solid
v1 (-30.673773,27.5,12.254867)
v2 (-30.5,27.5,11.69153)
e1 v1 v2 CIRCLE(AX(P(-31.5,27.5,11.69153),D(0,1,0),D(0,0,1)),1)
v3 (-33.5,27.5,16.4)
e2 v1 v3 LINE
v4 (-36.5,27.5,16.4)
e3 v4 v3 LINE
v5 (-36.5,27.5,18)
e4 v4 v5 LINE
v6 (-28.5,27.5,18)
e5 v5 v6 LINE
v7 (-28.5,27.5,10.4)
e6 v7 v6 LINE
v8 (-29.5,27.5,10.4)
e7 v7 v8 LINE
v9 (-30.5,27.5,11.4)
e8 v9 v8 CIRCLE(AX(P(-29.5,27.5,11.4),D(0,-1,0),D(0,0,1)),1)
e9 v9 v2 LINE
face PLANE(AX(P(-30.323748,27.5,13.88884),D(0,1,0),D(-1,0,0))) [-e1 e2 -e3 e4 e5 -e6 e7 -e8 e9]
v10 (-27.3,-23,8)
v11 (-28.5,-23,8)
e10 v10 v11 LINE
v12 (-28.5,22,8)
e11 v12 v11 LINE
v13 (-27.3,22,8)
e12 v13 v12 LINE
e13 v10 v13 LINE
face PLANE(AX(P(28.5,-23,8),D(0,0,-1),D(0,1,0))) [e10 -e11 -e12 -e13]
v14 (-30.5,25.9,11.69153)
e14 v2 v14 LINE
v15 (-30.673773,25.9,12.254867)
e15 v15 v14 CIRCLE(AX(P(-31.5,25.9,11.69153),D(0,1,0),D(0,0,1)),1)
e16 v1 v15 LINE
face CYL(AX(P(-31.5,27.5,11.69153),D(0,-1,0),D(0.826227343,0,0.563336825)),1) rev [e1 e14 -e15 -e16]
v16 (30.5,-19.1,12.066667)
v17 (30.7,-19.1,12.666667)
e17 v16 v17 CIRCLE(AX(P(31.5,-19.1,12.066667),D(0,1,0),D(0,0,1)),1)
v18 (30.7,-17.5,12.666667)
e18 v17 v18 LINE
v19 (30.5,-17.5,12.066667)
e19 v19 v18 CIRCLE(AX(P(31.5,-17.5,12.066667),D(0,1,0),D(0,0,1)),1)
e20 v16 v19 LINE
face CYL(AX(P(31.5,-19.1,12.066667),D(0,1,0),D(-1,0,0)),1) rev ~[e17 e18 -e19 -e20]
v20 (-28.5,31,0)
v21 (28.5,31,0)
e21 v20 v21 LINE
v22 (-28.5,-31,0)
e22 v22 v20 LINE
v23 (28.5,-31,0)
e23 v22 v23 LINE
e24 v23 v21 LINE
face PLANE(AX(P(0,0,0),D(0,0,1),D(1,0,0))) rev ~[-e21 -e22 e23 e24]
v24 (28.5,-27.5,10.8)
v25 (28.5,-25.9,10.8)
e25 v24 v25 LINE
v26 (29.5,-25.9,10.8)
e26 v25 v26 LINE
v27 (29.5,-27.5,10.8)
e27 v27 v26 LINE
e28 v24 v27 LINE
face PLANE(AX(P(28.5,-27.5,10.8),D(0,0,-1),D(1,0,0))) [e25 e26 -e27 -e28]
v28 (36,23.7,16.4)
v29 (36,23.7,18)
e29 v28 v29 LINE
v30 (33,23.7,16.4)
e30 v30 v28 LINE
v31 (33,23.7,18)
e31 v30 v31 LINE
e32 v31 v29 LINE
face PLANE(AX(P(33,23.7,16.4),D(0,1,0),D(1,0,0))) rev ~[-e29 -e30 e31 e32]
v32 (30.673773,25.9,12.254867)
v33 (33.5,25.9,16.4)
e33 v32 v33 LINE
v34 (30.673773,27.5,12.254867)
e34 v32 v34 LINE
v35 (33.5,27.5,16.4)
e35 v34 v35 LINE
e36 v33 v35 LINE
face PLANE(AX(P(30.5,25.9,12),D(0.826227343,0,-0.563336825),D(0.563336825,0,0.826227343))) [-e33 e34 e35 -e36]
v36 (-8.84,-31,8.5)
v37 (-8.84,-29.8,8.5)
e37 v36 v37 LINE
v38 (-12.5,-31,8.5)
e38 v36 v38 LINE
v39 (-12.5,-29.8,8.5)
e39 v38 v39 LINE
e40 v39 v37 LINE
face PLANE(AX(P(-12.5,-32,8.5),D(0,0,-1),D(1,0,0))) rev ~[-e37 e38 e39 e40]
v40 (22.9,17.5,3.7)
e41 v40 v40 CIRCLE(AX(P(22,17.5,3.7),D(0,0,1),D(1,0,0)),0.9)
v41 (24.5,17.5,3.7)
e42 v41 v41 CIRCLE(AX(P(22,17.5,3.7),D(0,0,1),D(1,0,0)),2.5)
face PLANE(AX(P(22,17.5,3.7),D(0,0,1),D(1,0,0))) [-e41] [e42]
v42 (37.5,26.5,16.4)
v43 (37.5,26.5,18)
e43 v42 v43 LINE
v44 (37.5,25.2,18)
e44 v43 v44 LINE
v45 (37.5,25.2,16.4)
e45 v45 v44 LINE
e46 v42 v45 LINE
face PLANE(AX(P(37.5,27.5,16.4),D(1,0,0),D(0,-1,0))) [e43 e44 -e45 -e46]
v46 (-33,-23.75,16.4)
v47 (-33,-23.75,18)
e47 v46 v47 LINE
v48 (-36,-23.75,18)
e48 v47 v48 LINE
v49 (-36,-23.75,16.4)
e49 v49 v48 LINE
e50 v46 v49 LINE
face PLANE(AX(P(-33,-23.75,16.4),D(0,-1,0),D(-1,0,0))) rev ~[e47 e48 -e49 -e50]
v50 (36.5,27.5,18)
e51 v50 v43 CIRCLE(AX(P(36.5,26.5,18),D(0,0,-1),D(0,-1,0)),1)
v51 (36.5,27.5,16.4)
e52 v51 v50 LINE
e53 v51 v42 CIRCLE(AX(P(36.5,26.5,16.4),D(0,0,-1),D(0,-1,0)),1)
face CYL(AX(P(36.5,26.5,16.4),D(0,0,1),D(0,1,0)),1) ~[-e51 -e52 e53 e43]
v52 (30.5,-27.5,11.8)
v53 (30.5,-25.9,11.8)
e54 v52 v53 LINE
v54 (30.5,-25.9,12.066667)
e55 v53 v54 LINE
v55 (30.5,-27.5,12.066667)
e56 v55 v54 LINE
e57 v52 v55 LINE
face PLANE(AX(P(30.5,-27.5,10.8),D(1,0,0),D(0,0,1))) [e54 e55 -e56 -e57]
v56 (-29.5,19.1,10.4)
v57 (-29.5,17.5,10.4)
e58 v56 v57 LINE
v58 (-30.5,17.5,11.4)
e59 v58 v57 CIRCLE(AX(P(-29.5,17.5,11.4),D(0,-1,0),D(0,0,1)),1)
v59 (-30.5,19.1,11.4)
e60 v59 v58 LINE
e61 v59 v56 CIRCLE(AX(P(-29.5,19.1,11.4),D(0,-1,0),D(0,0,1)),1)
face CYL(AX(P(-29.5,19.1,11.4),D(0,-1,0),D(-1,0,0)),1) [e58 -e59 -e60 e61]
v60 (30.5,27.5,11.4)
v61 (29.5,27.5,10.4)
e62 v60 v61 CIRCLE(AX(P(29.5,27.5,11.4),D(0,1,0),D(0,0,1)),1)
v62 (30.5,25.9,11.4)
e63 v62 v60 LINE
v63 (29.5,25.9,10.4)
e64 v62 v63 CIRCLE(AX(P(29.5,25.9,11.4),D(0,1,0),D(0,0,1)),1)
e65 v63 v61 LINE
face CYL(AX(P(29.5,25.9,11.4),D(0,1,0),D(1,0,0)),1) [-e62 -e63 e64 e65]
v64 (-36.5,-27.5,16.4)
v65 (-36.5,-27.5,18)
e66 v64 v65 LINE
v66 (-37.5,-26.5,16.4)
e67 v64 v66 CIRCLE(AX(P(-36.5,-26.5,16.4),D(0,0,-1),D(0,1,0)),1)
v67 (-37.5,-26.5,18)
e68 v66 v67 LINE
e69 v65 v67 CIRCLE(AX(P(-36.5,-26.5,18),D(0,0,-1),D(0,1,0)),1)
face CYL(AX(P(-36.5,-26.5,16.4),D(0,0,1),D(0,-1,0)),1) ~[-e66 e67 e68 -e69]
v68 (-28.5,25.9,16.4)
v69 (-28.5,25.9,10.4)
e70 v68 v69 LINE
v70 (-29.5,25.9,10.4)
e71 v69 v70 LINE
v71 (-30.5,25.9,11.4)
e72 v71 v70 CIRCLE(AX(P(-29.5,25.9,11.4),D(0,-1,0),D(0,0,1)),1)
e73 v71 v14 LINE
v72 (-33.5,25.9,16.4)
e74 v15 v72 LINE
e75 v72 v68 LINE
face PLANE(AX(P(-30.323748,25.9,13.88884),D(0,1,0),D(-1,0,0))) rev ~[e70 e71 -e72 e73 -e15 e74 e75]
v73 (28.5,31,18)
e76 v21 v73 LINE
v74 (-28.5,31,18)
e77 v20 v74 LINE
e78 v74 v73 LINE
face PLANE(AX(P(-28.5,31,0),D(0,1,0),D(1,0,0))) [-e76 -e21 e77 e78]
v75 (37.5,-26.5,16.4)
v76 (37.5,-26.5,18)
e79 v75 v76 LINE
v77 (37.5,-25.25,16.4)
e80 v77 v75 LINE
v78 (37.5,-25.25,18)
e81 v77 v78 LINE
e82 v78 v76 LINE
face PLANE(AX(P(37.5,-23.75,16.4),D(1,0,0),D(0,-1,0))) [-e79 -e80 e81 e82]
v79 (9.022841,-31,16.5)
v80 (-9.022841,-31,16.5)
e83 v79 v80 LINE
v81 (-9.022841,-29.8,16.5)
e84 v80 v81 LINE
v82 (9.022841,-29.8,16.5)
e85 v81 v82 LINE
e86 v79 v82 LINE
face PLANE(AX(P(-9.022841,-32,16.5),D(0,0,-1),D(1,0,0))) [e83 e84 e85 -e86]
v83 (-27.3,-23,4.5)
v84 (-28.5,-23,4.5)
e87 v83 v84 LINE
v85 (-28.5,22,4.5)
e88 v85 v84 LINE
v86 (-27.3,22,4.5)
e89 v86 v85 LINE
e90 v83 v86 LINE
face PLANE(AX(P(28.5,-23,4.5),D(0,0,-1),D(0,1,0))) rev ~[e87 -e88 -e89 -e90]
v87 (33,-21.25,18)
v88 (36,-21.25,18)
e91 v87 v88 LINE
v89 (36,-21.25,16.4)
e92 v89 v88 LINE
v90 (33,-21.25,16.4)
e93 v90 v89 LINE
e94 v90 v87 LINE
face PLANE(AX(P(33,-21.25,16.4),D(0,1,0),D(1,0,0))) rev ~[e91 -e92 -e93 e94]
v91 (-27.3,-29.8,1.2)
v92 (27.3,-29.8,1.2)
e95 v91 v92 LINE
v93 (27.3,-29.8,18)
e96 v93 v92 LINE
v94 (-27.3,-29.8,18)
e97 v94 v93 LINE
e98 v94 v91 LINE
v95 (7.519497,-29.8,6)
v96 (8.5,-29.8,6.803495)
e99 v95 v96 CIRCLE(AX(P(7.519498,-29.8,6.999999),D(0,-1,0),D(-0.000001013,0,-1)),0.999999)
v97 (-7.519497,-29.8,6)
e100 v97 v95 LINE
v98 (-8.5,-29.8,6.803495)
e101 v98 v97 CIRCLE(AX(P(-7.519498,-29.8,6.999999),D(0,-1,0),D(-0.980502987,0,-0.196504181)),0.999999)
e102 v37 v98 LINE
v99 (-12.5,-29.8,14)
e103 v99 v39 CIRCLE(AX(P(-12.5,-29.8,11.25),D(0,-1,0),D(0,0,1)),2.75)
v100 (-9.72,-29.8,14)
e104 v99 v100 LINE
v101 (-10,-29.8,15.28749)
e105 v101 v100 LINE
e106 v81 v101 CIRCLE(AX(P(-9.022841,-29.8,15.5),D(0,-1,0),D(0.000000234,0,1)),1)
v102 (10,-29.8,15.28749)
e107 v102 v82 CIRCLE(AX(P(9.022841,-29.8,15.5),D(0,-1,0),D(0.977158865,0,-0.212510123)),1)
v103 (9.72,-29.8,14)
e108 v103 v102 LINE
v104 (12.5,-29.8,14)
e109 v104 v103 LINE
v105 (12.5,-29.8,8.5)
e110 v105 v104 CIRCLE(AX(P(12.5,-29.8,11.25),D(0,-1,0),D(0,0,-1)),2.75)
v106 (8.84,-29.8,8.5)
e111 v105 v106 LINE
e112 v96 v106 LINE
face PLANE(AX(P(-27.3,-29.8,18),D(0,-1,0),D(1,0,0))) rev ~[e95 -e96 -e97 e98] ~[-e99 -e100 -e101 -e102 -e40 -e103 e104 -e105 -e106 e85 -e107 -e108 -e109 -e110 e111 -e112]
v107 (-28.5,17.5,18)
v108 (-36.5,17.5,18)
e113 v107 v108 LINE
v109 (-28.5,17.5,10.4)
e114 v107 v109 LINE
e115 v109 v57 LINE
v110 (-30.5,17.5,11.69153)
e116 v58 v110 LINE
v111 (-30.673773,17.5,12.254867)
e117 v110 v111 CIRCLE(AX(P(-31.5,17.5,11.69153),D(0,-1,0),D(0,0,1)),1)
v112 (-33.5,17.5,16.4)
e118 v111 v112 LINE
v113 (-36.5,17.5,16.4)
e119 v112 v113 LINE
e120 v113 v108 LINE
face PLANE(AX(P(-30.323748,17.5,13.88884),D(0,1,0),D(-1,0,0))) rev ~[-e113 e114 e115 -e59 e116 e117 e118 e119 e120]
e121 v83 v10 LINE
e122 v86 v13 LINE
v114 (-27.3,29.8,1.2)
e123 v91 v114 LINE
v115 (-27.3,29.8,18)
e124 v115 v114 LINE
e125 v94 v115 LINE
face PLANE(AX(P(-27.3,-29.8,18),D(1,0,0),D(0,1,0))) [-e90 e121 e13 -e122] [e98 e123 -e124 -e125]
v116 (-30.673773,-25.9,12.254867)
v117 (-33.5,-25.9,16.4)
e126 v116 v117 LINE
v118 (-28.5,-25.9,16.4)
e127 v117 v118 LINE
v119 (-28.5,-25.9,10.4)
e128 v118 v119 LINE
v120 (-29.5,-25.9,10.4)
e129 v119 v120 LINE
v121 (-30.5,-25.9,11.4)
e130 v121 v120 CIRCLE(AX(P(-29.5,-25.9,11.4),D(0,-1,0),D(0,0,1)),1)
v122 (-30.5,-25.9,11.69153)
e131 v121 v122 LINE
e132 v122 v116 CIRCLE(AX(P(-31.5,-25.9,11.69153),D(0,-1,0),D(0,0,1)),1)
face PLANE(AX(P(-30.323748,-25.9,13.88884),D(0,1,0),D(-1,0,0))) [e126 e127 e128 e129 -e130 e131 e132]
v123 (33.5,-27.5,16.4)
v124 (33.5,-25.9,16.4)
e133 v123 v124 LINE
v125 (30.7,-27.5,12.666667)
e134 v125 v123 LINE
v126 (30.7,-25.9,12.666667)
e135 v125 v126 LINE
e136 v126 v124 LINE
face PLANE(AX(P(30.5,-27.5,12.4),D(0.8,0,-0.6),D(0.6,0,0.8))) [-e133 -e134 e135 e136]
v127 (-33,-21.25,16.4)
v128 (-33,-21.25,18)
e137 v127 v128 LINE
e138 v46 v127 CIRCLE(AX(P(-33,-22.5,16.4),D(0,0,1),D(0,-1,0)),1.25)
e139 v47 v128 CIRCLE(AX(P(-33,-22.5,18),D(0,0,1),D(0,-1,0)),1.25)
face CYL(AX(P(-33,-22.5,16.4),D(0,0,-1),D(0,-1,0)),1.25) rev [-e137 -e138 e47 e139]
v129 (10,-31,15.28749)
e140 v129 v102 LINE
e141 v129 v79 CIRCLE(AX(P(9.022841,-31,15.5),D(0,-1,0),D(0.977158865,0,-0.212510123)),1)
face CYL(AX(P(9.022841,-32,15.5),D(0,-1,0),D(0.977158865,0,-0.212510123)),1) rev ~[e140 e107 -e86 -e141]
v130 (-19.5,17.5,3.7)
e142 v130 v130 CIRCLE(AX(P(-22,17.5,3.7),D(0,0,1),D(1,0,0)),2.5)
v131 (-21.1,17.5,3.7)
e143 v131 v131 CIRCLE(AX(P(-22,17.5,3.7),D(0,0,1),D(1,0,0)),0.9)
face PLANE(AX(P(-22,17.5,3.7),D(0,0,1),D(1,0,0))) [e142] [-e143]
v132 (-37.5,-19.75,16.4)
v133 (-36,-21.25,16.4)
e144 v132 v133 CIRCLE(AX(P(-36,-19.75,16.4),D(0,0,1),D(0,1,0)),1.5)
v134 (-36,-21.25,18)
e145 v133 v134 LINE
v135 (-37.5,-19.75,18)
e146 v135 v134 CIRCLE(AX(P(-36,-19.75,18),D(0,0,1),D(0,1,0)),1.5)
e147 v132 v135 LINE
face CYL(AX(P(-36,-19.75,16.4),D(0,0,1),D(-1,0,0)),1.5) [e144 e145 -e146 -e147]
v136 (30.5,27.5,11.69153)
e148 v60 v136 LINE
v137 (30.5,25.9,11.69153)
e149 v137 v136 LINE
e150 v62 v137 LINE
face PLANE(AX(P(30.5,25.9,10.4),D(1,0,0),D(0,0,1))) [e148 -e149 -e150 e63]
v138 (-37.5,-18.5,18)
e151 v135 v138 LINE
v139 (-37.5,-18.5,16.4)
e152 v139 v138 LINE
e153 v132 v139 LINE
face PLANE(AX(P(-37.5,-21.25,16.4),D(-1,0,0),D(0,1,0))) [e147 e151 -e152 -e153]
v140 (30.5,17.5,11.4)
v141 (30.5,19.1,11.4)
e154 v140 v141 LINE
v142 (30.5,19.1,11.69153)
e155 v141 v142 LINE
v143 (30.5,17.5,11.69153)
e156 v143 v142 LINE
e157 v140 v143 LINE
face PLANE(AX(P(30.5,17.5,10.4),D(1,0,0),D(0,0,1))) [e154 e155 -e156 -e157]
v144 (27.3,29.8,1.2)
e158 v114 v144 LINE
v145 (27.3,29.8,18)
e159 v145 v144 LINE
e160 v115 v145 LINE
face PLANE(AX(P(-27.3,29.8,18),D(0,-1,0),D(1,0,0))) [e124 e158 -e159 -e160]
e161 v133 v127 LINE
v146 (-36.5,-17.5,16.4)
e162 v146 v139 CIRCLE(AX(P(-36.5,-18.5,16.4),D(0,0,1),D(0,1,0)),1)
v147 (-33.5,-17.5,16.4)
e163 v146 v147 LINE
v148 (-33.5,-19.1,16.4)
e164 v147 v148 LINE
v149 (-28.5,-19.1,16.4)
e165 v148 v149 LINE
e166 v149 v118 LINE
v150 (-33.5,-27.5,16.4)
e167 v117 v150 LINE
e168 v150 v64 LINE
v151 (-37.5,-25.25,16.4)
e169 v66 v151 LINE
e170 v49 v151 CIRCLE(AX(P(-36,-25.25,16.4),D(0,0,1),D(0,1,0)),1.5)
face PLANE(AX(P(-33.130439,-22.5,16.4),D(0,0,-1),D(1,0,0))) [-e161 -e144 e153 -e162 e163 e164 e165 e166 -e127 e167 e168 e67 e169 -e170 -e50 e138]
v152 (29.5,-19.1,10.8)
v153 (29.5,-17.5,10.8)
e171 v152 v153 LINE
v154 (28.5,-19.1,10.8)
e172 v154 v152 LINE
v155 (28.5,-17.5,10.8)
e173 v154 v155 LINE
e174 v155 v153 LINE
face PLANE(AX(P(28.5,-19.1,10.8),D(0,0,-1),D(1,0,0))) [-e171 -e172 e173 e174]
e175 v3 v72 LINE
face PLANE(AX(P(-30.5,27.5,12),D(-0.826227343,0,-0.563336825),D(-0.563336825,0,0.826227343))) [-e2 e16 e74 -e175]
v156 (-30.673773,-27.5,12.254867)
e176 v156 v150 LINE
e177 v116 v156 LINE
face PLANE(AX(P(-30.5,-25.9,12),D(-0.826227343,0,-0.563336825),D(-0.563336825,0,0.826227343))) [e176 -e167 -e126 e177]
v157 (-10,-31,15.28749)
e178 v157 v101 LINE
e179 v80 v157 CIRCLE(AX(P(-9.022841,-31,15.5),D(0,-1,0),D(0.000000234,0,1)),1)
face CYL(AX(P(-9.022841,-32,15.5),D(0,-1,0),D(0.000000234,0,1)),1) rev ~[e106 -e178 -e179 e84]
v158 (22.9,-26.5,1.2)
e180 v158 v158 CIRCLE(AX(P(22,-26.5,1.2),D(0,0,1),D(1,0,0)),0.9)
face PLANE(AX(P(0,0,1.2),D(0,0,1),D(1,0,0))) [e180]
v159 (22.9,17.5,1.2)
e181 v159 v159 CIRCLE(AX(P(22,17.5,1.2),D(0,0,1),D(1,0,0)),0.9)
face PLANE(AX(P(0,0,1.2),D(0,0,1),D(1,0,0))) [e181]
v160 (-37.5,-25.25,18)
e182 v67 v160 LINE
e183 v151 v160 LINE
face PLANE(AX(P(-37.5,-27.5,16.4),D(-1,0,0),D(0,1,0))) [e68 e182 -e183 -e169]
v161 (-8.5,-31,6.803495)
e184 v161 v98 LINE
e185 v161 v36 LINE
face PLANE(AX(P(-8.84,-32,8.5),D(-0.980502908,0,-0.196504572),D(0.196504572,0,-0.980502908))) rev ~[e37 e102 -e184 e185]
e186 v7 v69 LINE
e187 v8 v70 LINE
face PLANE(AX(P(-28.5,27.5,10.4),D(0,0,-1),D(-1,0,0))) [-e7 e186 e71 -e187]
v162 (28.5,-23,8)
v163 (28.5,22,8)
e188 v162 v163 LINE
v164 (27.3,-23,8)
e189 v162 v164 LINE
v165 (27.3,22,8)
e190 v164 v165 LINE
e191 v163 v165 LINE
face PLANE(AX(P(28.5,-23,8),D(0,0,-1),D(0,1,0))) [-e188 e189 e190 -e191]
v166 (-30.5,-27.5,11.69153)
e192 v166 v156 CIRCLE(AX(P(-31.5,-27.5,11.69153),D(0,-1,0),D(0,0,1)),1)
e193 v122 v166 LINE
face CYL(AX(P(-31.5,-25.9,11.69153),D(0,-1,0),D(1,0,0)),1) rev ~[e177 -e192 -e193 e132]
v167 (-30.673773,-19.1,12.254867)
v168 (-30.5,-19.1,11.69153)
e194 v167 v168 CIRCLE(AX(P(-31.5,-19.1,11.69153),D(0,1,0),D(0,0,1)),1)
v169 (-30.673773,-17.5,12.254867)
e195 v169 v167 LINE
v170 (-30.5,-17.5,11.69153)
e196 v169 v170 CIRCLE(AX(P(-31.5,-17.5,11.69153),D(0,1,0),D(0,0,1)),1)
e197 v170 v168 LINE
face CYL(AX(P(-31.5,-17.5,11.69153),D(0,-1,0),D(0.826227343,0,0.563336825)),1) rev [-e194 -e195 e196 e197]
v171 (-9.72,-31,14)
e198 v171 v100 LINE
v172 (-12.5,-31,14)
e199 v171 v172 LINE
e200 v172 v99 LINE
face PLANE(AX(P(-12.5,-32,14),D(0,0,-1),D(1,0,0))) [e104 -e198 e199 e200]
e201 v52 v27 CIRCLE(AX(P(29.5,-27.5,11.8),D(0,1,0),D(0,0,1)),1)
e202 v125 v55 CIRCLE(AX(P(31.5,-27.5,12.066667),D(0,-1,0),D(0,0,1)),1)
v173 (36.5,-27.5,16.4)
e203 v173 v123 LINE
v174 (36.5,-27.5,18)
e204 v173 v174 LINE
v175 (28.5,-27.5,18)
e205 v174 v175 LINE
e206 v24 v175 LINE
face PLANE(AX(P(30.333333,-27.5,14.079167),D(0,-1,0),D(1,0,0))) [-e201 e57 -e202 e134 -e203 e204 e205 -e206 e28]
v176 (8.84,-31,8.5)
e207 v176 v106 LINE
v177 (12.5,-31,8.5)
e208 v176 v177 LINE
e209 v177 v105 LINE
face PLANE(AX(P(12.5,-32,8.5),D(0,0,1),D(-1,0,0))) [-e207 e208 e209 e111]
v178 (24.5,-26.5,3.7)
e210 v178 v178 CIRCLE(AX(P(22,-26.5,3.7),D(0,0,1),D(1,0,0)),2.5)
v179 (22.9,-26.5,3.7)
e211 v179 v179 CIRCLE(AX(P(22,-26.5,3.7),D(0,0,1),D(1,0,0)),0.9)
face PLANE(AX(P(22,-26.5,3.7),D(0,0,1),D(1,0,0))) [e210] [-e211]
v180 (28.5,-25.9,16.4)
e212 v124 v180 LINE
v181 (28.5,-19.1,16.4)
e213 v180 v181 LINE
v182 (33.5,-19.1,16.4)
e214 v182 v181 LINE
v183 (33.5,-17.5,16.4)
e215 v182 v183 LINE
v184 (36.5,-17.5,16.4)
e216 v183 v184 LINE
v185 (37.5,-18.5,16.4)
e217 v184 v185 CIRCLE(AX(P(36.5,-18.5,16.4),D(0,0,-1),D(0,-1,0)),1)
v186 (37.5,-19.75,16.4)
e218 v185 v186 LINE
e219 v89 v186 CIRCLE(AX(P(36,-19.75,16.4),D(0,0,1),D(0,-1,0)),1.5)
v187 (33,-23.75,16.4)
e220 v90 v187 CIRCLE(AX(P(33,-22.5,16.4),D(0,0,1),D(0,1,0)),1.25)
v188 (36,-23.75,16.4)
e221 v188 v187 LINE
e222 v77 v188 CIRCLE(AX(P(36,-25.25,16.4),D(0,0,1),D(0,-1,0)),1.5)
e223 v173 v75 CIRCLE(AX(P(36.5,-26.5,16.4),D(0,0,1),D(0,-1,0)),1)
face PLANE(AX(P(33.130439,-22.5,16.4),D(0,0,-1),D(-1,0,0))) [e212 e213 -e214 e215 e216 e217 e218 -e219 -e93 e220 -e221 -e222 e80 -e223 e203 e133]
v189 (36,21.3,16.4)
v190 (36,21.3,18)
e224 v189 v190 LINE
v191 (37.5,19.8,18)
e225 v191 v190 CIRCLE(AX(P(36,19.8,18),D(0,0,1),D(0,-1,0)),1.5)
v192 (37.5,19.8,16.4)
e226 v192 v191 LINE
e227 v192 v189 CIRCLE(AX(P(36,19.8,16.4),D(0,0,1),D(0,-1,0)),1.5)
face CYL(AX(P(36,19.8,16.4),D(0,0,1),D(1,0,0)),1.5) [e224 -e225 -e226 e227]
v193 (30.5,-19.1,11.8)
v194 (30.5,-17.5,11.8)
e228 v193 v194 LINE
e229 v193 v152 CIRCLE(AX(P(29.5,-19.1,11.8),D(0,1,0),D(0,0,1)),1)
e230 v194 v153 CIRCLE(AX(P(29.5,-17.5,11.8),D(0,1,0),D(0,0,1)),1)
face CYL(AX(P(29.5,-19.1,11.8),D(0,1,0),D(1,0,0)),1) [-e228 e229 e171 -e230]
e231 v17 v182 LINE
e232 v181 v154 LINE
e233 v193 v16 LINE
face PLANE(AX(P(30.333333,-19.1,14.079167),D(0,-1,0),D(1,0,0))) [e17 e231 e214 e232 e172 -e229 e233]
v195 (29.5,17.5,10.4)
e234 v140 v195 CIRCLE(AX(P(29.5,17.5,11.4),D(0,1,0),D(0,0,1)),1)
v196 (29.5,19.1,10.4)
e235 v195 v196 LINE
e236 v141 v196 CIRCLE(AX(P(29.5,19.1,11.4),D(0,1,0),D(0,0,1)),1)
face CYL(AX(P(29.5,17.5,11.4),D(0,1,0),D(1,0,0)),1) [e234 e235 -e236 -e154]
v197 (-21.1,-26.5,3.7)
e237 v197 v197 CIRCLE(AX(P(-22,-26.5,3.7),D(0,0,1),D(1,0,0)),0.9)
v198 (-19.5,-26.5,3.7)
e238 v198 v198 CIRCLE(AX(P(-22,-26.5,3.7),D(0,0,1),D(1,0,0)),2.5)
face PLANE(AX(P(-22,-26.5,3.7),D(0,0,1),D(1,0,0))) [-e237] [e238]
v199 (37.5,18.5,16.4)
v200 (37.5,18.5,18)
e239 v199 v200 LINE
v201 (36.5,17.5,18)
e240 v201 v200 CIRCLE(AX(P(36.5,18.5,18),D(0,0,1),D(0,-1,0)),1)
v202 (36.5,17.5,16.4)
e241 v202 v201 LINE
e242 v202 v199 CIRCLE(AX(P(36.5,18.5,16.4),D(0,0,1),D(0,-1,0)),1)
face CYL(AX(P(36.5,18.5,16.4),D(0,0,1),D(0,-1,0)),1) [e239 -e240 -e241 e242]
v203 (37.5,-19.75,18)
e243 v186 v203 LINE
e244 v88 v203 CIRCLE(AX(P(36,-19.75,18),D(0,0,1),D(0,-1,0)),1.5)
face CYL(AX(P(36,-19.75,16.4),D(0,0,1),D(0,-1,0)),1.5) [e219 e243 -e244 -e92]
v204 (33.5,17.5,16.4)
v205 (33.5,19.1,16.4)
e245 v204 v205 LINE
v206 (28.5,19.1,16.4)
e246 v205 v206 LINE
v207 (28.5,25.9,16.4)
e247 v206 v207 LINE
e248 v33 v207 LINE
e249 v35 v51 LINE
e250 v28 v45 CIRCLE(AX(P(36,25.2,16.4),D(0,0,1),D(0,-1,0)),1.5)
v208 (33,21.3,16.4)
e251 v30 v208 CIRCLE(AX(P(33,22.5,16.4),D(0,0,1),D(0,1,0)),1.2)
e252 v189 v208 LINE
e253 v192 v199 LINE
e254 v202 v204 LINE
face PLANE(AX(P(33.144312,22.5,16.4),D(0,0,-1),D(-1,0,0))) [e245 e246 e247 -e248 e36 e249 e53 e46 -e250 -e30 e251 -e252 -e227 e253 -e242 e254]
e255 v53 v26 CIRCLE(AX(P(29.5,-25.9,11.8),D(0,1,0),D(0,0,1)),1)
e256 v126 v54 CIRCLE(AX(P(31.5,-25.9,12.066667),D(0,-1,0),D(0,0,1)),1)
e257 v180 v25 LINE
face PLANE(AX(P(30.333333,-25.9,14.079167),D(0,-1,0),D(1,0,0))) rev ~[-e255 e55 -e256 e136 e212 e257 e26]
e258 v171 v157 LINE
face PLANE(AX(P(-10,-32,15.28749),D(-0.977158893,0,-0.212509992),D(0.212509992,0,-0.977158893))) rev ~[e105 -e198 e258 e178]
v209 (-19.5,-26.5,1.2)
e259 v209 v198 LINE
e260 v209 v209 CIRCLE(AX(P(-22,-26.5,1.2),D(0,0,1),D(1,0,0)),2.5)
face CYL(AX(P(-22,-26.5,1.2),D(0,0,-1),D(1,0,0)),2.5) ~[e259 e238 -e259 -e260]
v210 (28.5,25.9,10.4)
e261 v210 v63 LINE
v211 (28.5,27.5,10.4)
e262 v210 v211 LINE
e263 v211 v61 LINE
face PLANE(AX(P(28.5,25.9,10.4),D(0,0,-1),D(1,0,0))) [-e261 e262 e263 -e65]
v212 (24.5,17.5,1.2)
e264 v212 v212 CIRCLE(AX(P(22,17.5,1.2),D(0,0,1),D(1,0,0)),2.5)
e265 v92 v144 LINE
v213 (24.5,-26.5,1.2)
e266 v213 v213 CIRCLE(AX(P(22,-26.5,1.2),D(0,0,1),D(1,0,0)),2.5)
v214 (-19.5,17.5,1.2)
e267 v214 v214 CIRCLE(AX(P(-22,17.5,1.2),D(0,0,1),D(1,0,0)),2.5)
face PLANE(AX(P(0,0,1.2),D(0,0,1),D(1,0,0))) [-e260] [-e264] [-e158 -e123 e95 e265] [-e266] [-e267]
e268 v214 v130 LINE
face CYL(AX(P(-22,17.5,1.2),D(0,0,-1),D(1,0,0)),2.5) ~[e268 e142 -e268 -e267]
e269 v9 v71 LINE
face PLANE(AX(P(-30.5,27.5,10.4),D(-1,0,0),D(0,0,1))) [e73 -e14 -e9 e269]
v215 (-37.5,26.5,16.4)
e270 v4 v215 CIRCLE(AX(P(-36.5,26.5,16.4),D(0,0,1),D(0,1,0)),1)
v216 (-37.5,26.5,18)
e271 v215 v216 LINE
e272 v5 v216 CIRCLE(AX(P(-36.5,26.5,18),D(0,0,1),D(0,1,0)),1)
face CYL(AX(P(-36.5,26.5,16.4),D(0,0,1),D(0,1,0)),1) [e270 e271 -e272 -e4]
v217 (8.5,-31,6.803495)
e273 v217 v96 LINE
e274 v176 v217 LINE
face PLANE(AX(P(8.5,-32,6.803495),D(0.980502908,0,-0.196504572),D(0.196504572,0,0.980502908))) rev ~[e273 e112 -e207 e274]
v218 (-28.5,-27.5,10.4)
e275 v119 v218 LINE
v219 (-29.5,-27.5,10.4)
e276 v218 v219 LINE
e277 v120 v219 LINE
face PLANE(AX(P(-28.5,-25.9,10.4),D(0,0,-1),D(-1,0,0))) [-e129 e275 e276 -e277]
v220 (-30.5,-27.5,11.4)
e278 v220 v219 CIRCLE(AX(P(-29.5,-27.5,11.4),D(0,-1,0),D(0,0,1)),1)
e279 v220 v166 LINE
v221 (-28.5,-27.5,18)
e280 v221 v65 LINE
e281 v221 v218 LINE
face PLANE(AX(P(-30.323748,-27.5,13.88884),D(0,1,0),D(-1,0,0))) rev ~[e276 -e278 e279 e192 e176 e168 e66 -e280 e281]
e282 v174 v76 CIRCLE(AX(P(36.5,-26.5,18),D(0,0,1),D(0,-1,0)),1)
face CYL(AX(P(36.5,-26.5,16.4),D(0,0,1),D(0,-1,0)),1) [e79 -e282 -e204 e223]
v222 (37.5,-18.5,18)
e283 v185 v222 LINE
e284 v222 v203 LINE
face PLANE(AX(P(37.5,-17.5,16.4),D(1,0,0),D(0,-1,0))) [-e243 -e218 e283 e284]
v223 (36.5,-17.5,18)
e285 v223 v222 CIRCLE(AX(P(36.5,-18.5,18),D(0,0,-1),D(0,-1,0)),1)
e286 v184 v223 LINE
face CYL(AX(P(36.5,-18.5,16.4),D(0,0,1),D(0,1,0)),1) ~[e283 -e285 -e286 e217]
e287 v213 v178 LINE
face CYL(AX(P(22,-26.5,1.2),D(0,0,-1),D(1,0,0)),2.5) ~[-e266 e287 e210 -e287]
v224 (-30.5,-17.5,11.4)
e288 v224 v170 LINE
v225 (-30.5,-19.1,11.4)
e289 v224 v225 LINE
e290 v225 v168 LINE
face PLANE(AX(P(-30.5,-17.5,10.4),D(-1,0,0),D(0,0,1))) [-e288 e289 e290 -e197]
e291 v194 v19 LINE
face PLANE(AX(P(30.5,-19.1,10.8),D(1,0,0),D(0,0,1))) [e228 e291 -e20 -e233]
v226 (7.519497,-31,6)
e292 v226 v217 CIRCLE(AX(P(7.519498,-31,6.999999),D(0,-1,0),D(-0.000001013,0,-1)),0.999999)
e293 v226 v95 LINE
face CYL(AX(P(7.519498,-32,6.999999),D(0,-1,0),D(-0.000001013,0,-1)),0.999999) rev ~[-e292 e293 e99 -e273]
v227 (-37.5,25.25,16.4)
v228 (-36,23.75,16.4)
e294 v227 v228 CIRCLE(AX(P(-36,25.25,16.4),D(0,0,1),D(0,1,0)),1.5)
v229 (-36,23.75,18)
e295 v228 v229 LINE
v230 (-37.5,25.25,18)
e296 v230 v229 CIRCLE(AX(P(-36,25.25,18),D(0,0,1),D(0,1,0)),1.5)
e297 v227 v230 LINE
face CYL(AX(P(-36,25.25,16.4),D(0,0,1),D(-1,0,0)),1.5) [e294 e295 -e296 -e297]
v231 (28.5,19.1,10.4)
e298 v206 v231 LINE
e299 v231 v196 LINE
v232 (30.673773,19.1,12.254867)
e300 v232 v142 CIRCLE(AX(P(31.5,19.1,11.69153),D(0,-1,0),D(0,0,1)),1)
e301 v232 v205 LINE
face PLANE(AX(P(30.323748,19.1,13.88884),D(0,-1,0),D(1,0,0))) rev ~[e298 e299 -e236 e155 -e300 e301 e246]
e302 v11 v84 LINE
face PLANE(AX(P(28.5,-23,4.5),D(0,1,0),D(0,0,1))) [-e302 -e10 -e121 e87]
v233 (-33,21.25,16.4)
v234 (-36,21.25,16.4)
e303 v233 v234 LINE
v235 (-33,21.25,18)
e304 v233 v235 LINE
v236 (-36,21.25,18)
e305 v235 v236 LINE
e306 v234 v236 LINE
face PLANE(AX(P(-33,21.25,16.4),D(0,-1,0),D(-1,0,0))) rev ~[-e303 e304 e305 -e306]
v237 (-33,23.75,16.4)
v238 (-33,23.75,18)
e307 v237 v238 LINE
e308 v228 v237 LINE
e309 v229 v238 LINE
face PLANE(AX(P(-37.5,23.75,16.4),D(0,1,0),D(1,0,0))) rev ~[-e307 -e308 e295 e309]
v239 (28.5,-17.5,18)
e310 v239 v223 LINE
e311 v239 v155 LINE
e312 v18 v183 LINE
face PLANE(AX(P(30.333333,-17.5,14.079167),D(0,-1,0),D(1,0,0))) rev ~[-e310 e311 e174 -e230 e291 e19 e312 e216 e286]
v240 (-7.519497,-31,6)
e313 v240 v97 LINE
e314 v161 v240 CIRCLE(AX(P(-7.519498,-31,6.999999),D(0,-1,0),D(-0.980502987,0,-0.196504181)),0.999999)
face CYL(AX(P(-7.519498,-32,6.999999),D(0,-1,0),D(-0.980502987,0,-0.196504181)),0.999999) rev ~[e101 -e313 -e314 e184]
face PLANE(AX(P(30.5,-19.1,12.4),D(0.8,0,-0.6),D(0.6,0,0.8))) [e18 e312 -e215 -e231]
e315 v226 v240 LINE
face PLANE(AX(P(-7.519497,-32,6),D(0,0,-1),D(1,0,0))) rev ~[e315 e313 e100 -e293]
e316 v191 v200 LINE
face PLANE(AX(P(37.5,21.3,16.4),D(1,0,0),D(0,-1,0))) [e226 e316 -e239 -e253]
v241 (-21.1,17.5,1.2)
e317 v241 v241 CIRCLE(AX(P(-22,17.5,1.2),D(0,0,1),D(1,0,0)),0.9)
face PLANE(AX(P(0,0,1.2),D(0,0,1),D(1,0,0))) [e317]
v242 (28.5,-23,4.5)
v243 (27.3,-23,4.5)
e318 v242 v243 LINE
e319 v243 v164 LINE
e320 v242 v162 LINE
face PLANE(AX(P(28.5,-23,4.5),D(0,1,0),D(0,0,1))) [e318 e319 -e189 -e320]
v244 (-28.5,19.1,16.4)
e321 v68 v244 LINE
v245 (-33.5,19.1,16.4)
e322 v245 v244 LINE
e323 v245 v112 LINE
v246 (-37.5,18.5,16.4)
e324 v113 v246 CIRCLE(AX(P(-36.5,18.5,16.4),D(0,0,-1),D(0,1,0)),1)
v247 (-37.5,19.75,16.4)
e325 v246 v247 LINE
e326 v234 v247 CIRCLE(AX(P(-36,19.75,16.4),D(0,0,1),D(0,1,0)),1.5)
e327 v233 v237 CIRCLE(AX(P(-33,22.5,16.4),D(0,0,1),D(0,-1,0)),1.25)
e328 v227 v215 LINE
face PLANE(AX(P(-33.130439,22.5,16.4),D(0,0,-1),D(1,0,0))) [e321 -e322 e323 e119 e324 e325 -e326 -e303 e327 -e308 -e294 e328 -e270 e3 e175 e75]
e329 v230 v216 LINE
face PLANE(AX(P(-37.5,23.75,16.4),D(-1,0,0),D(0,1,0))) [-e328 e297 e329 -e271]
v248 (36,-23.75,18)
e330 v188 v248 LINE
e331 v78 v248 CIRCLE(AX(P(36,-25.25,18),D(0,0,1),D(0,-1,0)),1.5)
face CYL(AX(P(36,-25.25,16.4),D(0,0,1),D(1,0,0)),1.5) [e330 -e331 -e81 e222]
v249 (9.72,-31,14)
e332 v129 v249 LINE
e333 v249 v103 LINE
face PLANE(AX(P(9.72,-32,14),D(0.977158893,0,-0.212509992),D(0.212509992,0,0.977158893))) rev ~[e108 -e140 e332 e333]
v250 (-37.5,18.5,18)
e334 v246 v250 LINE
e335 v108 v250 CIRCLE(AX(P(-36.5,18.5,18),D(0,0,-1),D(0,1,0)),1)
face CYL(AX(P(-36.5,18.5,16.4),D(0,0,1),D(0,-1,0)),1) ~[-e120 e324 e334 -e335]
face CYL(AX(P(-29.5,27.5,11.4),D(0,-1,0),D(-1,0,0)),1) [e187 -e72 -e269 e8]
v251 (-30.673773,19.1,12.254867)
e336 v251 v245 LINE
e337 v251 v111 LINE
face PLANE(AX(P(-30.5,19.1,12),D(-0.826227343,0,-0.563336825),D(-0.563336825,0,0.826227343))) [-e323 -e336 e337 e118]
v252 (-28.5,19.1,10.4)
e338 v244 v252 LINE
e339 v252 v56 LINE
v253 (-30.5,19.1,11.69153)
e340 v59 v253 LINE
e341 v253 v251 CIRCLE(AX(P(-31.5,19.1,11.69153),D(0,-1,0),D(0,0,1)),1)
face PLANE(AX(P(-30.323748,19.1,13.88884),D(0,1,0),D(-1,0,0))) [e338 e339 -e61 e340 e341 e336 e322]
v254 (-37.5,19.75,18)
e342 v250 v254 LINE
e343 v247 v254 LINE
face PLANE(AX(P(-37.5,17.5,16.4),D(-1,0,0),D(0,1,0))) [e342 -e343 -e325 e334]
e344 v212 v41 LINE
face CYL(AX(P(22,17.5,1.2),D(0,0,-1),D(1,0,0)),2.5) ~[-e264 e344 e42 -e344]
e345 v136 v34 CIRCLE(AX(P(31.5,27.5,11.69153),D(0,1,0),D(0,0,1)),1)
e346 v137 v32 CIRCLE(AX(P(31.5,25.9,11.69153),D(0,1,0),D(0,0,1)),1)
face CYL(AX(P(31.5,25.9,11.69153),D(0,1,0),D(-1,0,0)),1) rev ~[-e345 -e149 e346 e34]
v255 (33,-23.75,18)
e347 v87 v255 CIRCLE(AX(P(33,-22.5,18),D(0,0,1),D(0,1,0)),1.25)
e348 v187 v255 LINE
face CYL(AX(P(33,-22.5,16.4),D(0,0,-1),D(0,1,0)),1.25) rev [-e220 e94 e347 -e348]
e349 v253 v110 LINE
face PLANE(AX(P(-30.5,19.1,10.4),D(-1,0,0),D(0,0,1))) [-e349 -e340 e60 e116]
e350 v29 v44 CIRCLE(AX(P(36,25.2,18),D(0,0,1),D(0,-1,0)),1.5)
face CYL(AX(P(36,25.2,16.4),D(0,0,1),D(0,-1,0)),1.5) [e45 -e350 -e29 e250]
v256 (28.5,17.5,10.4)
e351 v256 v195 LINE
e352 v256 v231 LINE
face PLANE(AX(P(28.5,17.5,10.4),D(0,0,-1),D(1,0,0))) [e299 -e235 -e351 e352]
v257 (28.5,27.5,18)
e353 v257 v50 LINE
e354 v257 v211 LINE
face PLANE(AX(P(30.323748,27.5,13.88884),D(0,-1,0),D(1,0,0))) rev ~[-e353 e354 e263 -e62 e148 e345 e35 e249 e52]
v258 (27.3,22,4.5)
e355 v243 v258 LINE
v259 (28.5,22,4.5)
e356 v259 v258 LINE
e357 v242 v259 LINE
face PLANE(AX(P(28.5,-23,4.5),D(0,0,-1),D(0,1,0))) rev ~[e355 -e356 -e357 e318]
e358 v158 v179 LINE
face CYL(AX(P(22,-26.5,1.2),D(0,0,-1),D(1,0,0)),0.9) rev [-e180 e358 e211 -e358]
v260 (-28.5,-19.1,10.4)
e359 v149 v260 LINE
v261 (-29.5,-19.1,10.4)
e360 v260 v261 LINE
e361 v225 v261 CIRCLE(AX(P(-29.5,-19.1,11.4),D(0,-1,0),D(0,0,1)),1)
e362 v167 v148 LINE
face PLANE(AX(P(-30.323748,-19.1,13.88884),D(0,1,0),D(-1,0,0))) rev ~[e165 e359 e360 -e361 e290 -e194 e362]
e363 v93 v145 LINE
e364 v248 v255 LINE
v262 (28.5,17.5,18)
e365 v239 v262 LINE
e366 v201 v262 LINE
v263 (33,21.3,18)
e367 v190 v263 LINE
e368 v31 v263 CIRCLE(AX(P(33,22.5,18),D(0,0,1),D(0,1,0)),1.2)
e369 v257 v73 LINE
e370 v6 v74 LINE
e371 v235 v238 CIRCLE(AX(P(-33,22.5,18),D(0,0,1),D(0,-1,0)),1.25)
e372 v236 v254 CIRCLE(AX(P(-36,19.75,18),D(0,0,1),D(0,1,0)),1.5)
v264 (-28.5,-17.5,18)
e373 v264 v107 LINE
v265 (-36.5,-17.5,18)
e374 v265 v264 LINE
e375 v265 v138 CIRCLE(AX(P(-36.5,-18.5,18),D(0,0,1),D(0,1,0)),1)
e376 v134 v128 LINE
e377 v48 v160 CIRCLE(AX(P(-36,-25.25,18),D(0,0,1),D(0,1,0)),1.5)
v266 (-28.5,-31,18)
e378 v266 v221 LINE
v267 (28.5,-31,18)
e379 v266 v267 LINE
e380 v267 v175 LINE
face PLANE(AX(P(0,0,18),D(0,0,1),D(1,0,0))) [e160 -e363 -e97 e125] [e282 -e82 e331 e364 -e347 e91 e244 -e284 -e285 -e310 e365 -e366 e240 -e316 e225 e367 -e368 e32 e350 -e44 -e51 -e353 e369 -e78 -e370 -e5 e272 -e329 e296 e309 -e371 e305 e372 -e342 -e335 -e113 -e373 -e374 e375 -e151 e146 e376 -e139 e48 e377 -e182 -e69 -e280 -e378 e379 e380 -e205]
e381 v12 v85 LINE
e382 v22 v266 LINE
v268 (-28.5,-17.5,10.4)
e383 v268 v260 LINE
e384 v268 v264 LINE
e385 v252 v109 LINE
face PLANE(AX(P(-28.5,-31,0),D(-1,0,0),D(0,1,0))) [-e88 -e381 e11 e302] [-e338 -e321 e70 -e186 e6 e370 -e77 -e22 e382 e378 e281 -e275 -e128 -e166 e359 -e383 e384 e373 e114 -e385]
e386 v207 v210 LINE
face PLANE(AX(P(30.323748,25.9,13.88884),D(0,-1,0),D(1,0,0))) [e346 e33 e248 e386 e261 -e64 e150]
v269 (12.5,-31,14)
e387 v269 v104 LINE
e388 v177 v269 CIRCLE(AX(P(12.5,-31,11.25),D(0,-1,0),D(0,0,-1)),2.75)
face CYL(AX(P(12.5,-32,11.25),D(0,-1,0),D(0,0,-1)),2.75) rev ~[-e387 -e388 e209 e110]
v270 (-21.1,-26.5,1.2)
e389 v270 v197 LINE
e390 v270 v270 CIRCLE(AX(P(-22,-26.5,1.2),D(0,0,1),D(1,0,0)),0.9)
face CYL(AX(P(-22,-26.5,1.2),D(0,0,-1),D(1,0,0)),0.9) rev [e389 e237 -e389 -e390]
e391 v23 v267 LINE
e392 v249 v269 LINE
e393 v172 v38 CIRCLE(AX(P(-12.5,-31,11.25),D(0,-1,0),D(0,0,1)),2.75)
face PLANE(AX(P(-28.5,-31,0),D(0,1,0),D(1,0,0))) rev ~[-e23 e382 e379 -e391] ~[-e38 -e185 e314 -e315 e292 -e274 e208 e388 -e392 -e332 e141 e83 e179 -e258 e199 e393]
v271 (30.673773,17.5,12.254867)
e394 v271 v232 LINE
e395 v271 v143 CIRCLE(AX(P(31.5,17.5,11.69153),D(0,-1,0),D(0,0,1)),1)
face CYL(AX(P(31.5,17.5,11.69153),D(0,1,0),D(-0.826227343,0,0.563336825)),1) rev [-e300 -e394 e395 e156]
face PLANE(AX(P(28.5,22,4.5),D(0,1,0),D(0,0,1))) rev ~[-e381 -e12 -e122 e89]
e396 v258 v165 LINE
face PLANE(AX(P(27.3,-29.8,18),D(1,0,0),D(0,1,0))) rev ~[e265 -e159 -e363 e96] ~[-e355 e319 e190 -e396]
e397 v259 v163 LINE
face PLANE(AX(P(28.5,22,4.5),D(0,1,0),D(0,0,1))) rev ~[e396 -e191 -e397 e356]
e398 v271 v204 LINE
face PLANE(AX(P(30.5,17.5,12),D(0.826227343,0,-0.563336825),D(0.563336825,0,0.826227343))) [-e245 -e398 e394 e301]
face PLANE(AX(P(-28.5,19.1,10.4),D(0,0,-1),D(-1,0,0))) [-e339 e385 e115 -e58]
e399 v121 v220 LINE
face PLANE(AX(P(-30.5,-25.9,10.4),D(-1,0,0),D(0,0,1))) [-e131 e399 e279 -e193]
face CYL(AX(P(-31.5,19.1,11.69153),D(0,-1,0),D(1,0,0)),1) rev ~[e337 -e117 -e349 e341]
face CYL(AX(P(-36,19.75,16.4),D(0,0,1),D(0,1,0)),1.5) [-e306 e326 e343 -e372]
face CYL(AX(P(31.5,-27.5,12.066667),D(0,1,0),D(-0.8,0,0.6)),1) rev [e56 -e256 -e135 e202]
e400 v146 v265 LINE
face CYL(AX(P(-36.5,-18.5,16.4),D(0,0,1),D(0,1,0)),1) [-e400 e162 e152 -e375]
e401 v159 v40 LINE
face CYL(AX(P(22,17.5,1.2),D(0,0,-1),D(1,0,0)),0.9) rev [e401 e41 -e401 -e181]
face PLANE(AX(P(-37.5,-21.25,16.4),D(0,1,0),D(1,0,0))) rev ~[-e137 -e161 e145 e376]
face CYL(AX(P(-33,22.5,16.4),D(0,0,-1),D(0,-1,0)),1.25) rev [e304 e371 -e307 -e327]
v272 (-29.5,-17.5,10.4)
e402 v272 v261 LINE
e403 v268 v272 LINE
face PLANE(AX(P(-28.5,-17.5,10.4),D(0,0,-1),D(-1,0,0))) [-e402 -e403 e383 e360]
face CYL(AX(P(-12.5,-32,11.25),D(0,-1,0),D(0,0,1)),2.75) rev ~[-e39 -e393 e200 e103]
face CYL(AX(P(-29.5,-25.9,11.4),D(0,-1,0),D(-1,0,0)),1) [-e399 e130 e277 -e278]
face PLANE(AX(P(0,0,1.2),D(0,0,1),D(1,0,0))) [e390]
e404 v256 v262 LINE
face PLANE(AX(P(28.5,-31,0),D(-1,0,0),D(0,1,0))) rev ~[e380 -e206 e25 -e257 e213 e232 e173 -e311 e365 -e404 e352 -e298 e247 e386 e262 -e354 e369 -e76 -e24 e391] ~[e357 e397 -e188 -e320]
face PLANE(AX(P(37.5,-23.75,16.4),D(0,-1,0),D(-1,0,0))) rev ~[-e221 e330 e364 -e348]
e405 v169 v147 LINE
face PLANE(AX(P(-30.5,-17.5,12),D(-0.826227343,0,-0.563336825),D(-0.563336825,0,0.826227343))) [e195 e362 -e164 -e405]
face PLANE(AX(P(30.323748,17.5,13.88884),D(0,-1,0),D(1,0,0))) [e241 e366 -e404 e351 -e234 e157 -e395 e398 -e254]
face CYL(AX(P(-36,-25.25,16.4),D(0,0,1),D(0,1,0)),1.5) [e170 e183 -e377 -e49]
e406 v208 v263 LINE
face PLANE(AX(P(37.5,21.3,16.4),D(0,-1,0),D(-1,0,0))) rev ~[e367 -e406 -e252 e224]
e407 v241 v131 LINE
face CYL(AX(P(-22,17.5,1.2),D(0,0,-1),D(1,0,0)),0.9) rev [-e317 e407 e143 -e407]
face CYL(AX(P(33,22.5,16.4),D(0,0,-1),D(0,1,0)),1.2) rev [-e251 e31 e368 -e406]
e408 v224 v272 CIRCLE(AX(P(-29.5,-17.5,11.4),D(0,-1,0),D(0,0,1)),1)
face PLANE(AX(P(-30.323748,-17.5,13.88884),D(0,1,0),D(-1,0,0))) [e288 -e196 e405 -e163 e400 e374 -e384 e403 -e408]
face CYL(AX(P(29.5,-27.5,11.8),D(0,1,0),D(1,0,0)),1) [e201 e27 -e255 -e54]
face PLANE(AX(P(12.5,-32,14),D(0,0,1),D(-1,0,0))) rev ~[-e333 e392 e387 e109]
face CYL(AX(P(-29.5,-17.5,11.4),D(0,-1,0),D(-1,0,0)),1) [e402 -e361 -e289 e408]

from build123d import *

# Parameters (mm, degrees)
PAD004_DEPTH            = 1.6
PAD005_DEPTH            = 1.6
LINEARPATTERN001_COUNT  = 2
LINEARPATTERN001_PITCH  = 8.4
FILLET004_R             = 1
FILLET005_R             = 1
FILLET006_R             = 1
FILLET007_R             = 1.5
PAD002_DEPTH            = 1.6
PAD003_DEPTH            = 1.6
LINEARPATTERN_COUNT     = 2
LINEARPATTERN_PITCH     = 8.4
FILLET_R                = 1
FILLET001_R             = 1
FILLET002_R             = 1
FILLET003_R             = 1.5
PAD008_DEPTH            = 1.6
PAD009_DEPTH            = 1.6
LINEARPATTERN003_COUNT  = 2
LINEARPATTERN003_PITCH  = 8.4
FILLET012_R             = 1
FILLET013_R             = 1
FILLET014_R             = 1
FILLET015_R             = 1.5
BODY004_PLACEMENT_ANGLE = 180
PAD006_DEPTH            = 1.6
PAD007_DEPTH            = 1.6
LINEARPATTERN002_COUNT  = 2
LINEARPATTERN002_PITCH  = 8.4
FILLET008_R             = 1
FILLET009_R             = 1
FILLET010_R             = 1
FILLET011_R             = 1.5
BODY003_PLACEMENT_ANGLE = 180
SKETCH_W                = 57
SKETCH_H                = 62
PAD_DEPTH               = 18
SKETCH001_W             = 54.6
SKETCH001_H             = 59.6
POCKET_DEPTH            = 16.8
SKETCH002_W             = 45
SKETCH002_H             = 3.5
POCKET001_DEPTH         = 57.001
SKETCH003_R             = 2.5
SKETCH003_R_2           = 0.9
PAD001_DEPTH            = 2.5
POCKET002_DEPTH         = 5


with BuildPart() as tab2:
    # Sketch006 → Pad004 (new body)
    with BuildSketch(Plane.XY):
        with BuildLine():
            Line((-4.5, 5), (4.5, 5))
            Line((4.5, 5), (4.5, 1.2))
            Line((0, 1.2), (4.5, 1.2))
            ThreePointArc((0, 1.2), (-1.2, 0), (0, -1.2))
            Line((4.5, -1.2), (0, -1.2))
            Line((4.5, -1.2), (4.5, -5))
            Line((4.5, -5), (-4.5, -5))
            Line((-4.5, -5), (-4.5, 5))
        make_face()
    extrude(amount=PAD004_DEPTH)

    # Sketch007 (on DatumPlane) → Pad005 (join)
    with BuildSketch(Plane.XZ.offset(5)):
        Polygon((-4.5, 0), (-4.5, -6), (-2.5, -6), (-2.5, -4.4), (0.5, 0), align=None)
    pad005 = extrude(amount=-PAD005_DEPTH)

    # LinearPattern001: Pad005 ×2
    with Locations(*[(0, i * LINEARPATTERN001_PITCH, 0) for i in range(1, LINEARPATTERN001_COUNT)]):
        add(pad005)

    # Fillet004
    fillet004_edges = [tab2.edges().sort_by_distance(p)[0] for p in [
        (-2.5, -4.2, -6),
        (-2.5, 4.2, -6),
    ]]
    fillet(fillet004_edges, radius=FILLET004_R)

    # Fillet005
    fillet005_edges = [tab2.edges().sort_by_distance(p)[0] for p in [
        (-2.5, -4.2, -4.4),
        (-2.5, 4.2, -4.4),
    ]]
    fillet(fillet005_edges, radius=FILLET005_R)

    # Fillet006
    fillet006_edges = [tab2.edges().sort_by_distance(p)[0] for p in [
        (4.5, -5, 0.8),
        (4.5, 5, 0.8),
    ]]
    fillet(fillet006_edges, radius=FILLET006_R)

    # Fillet007
    fillet007_edges = [tab2.edges().sort_by_distance(p)[0] for p in [
        (4.5, -1.2, 0.8),
        (4.5, 1.2, 0.8),
    ]]
    fillet(fillet007_edges, radius=FILLET007_R)


with BuildPart() as tab2_1:
    # Body002 placement: moved
    add(tab2.part.moved(Location((33, 22.5, 16.4))))


with BuildPart() as tab1:
    # Sketch004 → Pad002 (new body)
    with BuildSketch(Plane.XY):
        with BuildLine():
            Line((-4.5, 5), (4.5, 5))
            Line((4.5, 5), (4.5, 1.25))
            Line((0, 1.25), (4.5, 1.25))
            ThreePointArc((0, 1.25), (-1.25, 0), (0, -1.25))
            Line((4.5, -1.25), (0, -1.25))
            Line((4.5, -1.25), (4.5, -5))
            Line((4.5, -5), (-4.5, -5))
            Line((-4.5, -5), (-4.5, 5))
        make_face()
    extrude(amount=PAD002_DEPTH)

    # Sketch005 (on DatumPlane) → Pad003 (join)
    with BuildSketch(Plane.XZ.offset(5)):
        Polygon((-4.5, 0), (-4.5, -5.6), (-2.5, -5.6), (-2.5, -4), (0.5, 0), align=None)
    pad003 = extrude(amount=-PAD003_DEPTH)

    # LinearPattern: Pad003 ×2
    with Locations(*[(0, i * LINEARPATTERN_PITCH, 0) for i in range(1, LINEARPATTERN_COUNT)]):
        add(pad003)

    # Fillet
    fillet_edges = [tab1.edges().sort_by_distance(p)[0] for p in [
        (-2.5, -4.2, -5.6),
        (-2.5, 4.2, -5.6),
    ]]
    fillet(fillet_edges, radius=FILLET_R)

    # Fillet001
    fillet001_edges = [tab1.edges().sort_by_distance(p)[0] for p in [
        (-2.5, -4.2, -4),
        (-2.5, 4.2, -4),
    ]]
    fillet(fillet001_edges, radius=FILLET001_R)

    # Fillet002
    fillet002_edges = [tab1.edges().sort_by_distance(p)[0] for p in [
        (4.5, -5, 0.8),
        (4.5, 5, 0.8),
    ]]
    fillet(fillet002_edges, radius=FILLET002_R)

    # Fillet003
    fillet003_edges = [tab1.edges().sort_by_distance(p)[0] for p in [
        (4.5, -1.25, 0.8),
        (4.5, 1.25, 0.8),
    ]]
    fillet(fillet003_edges, radius=FILLET003_R)


with BuildPart() as tab1_1:
    # Body001 placement: moved
    add(tab1.part.moved(Location((33, -22.5, 16.4))))


with BuildPart() as tab4:
    # Sketch010 → Pad008 (new body)
    with BuildSketch(Plane.XY):
        with BuildLine():
            Line((-4.5, 5), (4.5, 5))
            Line((4.5, 5), (4.5, 1.25))
            Line((0, 1.25), (4.5, 1.25))
            ThreePointArc((0, 1.25), (-1.25, 0), (0, -1.25))
            Line((4.5, -1.25), (0, -1.25))
            Line((4.5, -1.25), (4.5, -5))
            Line((4.5, -5), (-4.5, -5))
            Line((-4.5, -5), (-4.5, 5))
        make_face()
    extrude(amount=PAD008_DEPTH)

    # Sketch011 (on DatumPlane) → Pad009 (join)
    with BuildSketch(Plane.XZ.offset(5)):
        Polygon((-4.5, 0), (-4.5, -6), (-2.5, -6), (-2.5, -4.4), (0.5, 0), align=None)
    pad009 = extrude(amount=-PAD009_DEPTH)

    # LinearPattern003: Pad009 ×2
    with Locations(*[(0, i * LINEARPATTERN003_PITCH, 0) for i in range(1, LINEARPATTERN003_COUNT)]):
        add(pad009)

    # Fillet012
    fillet012_edges = [tab4.edges().sort_by_distance(p)[0] for p in [
        (-2.5, -4.2, -6),
        (-2.5, 4.2, -6),
    ]]
    fillet(fillet012_edges, radius=FILLET012_R)

    # Fillet013
    fillet013_edges = [tab4.edges().sort_by_distance(p)[0] for p in [
        (-2.5, -4.2, -4.4),
        (-2.5, 4.2, -4.4),
    ]]
    fillet(fillet013_edges, radius=FILLET013_R)

    # Fillet014
    fillet014_edges = [tab4.edges().sort_by_distance(p)[0] for p in [
        (4.5, -5, 0.8),
        (4.5, 5, 0.8),
    ]]
    fillet(fillet014_edges, radius=FILLET014_R)

    # Fillet015
    fillet015_edges = [tab4.edges().sort_by_distance(p)[0] for p in [
        (4.5, -1.25, 0.8),
        (4.5, 1.25, 0.8),
    ]]
    fillet(fillet015_edges, radius=FILLET015_R)


with BuildPart() as tab4_1:
    # Body004 placement: moved
    add(tab4.part.moved(Location((-33, -22.5, 16.4))).rotate(Axis((-33, -22.5, 16.4), (0, 0, 1)), BODY004_PLACEMENT_ANGLE))


with BuildPart() as tab3:
    # Sketch008 → Pad006 (new body)
    with BuildSketch(Plane.XY):
        with BuildLine():
            Line((-4.5, 5), (4.5, 5))
            Line((4.5, 5), (4.5, 1.25))
            Line((0, 1.25), (4.5, 1.25))
            ThreePointArc((0, 1.25), (-1.25, 0), (0, -1.25))
            Line((4.5, -1.25), (0, -1.25))
            Line((4.5, -1.25), (4.5, -5))
            Line((4.5, -5), (-4.5, -5))
            Line((-4.5, -5), (-4.5, 5))
        make_face()
    extrude(amount=PAD006_DEPTH)

    # Sketch009 (on DatumPlane) → Pad007 (join)
    with BuildSketch(Plane.XZ.offset(5)):
        Polygon((-4.5, 0), (-4.5, -6), (-2.5, -6), (-2.5, -4.4), (0.5, 0), align=None)
    pad007 = extrude(amount=-PAD007_DEPTH)

    # LinearPattern002: Pad007 ×2
    with Locations(*[(0, i * LINEARPATTERN002_PITCH, 0) for i in range(1, LINEARPATTERN002_COUNT)]):
        add(pad007)

    # Fillet008
    fillet008_edges = [tab3.edges().sort_by_distance(p)[0] for p in [
        (-2.5, -4.2, -6),
        (-2.5, 4.2, -6),
    ]]
    fillet(fillet008_edges, radius=FILLET008_R)

    # Fillet009
    fillet009_edges = [tab3.edges().sort_by_distance(p)[0] for p in [
        (-2.5, -4.2, -4.4),
        (-2.5, 4.2, -4.4),
    ]]
    fillet(fillet009_edges, radius=FILLET009_R)

    # Fillet010
    fillet010_edges = [tab3.edges().sort_by_distance(p)[0] for p in [
        (4.5, -5, 0.8),
        (4.5, 5, 0.8),
    ]]
    fillet(fillet010_edges, radius=FILLET010_R)

    # Fillet011
    fillet011_edges = [tab3.edges().sort_by_distance(p)[0] for p in [
        (4.5, -1.25, 0.8),
        (4.5, 1.25, 0.8),
    ]]
    fillet(fillet011_edges, radius=FILLET011_R)


with BuildPart() as tab3_1:
    # Body003 placement: moved
    add(tab3.part.moved(Location((-33, 22.5, 16.4))).rotate(Axis((-33, 22.5, 16.4), (0, 0, 1)), BODY003_PLACEMENT_ANGLE))


with BuildPart() as body:
    # Sketch → Pad (new body)
    with BuildSketch(Plane.XY):
        Rectangle(SKETCH_W, SKETCH_H)
    extrude(amount=PAD_DEPTH)

    # Sketch001 (on DatumPlane) → Pocket (cut)
    with BuildSketch(Plane.XY.offset(18)):
        Rectangle(SKETCH001_W, SKETCH001_H)
    extrude(amount=-POCKET_DEPTH, mode=Mode.SUBTRACT)

    # Sketch002 (on Face3 of Pocket) → Pocket001 (cut, through all)
    with BuildSketch(Plane.YZ.offset(28.5)):
        with Locations((-0.5, 6.25)):
            Rectangle(SKETCH002_W, SKETCH002_H)
    extrude(amount=-POCKET001_DEPTH, mode=Mode.SUBTRACT)

    # Sketch003 (on Face19 of Pocket001) → Pad001 (join)
    with BuildSketch(Plane.XY.offset(1.2)):
        with Locations((22, -26.5)):
            Circle(SKETCH003_R)
        with Locations((22, -26.5)):
            Circle(SKETCH003_R_2, mode=Mode.SUBTRACT)
        with Locations((-22, -26.5)):
            Circle(SKETCH003_R)
        with Locations((-22, -26.5)):
            Circle(SKETCH003_R_2, mode=Mode.SUBTRACT)
        with Locations((22, 17.5)):
            Circle(SKETCH003_R)
        with Locations((22, 17.5)):
            Circle(SKETCH003_R_2, mode=Mode.SUBTRACT)
        with Locations((-22, 17.5)):
            Circle(SKETCH003_R)
        with Locations((-22, 17.5)):
            Circle(SKETCH003_R_2, mode=Mode.SUBTRACT)
    extrude(amount=PAD001_DEPTH)

    # Boolean: union Tab2, Tab1, Tab4, Tab3
    add(tab2_1.part)
    add(tab1_1.part)
    add(tab4_1.part)
    add(tab3_1.part)

    # Sketch012 (on DatumPlane) → Pocket002 (cut)
    with BuildSketch(Plane.XZ.offset(32)):
        with BuildLine():
            Line((-9.022841, 16.5), (9.022841, 16.5))
            ThreePointArc((10, 15.28749), (9.801465, 16.127491), (9.022841, 16.5))
            Line((9.72, 14), (10, 15.28749))
            Line((12.5, 14), (9.72, 14))
            ThreePointArc((12.5, 8.5), (15.25, 11.25), (12.5, 14))
            Line((12.5, 8.5), (8.84, 8.5))
            Line((8.5, 6.803495), (8.84, 8.5))
            ThreePointArc((7.519497, 6), (8.153333, 6.226532), (8.5, 6.803495))
            Line((-7.519497, 6), (7.519497, 6))
            ThreePointArc((-8.5, 6.803495), (-8.153333, 6.226532), (-7.519497, 6))
            Line((-8.84, 8.5), (-8.5, 6.803495))
            Line((-12.5, 8.5), (-8.84, 8.5))
            ThreePointArc((-12.5, 14), (-15.25, 11.25), (-12.5, 8.5))
            Line((-12.5, 14), (-9.72, 14))
            Line((-10, 15.28749), (-9.72, 14))
            ThreePointArc((-9.022841, 16.5), (-9.801465, 16.127491), (-10, 15.28749))
        make_face()
    extrude(amount=-POCKET002_DEPTH, mode=Mode.SUBTRACT)


solid = body.part
